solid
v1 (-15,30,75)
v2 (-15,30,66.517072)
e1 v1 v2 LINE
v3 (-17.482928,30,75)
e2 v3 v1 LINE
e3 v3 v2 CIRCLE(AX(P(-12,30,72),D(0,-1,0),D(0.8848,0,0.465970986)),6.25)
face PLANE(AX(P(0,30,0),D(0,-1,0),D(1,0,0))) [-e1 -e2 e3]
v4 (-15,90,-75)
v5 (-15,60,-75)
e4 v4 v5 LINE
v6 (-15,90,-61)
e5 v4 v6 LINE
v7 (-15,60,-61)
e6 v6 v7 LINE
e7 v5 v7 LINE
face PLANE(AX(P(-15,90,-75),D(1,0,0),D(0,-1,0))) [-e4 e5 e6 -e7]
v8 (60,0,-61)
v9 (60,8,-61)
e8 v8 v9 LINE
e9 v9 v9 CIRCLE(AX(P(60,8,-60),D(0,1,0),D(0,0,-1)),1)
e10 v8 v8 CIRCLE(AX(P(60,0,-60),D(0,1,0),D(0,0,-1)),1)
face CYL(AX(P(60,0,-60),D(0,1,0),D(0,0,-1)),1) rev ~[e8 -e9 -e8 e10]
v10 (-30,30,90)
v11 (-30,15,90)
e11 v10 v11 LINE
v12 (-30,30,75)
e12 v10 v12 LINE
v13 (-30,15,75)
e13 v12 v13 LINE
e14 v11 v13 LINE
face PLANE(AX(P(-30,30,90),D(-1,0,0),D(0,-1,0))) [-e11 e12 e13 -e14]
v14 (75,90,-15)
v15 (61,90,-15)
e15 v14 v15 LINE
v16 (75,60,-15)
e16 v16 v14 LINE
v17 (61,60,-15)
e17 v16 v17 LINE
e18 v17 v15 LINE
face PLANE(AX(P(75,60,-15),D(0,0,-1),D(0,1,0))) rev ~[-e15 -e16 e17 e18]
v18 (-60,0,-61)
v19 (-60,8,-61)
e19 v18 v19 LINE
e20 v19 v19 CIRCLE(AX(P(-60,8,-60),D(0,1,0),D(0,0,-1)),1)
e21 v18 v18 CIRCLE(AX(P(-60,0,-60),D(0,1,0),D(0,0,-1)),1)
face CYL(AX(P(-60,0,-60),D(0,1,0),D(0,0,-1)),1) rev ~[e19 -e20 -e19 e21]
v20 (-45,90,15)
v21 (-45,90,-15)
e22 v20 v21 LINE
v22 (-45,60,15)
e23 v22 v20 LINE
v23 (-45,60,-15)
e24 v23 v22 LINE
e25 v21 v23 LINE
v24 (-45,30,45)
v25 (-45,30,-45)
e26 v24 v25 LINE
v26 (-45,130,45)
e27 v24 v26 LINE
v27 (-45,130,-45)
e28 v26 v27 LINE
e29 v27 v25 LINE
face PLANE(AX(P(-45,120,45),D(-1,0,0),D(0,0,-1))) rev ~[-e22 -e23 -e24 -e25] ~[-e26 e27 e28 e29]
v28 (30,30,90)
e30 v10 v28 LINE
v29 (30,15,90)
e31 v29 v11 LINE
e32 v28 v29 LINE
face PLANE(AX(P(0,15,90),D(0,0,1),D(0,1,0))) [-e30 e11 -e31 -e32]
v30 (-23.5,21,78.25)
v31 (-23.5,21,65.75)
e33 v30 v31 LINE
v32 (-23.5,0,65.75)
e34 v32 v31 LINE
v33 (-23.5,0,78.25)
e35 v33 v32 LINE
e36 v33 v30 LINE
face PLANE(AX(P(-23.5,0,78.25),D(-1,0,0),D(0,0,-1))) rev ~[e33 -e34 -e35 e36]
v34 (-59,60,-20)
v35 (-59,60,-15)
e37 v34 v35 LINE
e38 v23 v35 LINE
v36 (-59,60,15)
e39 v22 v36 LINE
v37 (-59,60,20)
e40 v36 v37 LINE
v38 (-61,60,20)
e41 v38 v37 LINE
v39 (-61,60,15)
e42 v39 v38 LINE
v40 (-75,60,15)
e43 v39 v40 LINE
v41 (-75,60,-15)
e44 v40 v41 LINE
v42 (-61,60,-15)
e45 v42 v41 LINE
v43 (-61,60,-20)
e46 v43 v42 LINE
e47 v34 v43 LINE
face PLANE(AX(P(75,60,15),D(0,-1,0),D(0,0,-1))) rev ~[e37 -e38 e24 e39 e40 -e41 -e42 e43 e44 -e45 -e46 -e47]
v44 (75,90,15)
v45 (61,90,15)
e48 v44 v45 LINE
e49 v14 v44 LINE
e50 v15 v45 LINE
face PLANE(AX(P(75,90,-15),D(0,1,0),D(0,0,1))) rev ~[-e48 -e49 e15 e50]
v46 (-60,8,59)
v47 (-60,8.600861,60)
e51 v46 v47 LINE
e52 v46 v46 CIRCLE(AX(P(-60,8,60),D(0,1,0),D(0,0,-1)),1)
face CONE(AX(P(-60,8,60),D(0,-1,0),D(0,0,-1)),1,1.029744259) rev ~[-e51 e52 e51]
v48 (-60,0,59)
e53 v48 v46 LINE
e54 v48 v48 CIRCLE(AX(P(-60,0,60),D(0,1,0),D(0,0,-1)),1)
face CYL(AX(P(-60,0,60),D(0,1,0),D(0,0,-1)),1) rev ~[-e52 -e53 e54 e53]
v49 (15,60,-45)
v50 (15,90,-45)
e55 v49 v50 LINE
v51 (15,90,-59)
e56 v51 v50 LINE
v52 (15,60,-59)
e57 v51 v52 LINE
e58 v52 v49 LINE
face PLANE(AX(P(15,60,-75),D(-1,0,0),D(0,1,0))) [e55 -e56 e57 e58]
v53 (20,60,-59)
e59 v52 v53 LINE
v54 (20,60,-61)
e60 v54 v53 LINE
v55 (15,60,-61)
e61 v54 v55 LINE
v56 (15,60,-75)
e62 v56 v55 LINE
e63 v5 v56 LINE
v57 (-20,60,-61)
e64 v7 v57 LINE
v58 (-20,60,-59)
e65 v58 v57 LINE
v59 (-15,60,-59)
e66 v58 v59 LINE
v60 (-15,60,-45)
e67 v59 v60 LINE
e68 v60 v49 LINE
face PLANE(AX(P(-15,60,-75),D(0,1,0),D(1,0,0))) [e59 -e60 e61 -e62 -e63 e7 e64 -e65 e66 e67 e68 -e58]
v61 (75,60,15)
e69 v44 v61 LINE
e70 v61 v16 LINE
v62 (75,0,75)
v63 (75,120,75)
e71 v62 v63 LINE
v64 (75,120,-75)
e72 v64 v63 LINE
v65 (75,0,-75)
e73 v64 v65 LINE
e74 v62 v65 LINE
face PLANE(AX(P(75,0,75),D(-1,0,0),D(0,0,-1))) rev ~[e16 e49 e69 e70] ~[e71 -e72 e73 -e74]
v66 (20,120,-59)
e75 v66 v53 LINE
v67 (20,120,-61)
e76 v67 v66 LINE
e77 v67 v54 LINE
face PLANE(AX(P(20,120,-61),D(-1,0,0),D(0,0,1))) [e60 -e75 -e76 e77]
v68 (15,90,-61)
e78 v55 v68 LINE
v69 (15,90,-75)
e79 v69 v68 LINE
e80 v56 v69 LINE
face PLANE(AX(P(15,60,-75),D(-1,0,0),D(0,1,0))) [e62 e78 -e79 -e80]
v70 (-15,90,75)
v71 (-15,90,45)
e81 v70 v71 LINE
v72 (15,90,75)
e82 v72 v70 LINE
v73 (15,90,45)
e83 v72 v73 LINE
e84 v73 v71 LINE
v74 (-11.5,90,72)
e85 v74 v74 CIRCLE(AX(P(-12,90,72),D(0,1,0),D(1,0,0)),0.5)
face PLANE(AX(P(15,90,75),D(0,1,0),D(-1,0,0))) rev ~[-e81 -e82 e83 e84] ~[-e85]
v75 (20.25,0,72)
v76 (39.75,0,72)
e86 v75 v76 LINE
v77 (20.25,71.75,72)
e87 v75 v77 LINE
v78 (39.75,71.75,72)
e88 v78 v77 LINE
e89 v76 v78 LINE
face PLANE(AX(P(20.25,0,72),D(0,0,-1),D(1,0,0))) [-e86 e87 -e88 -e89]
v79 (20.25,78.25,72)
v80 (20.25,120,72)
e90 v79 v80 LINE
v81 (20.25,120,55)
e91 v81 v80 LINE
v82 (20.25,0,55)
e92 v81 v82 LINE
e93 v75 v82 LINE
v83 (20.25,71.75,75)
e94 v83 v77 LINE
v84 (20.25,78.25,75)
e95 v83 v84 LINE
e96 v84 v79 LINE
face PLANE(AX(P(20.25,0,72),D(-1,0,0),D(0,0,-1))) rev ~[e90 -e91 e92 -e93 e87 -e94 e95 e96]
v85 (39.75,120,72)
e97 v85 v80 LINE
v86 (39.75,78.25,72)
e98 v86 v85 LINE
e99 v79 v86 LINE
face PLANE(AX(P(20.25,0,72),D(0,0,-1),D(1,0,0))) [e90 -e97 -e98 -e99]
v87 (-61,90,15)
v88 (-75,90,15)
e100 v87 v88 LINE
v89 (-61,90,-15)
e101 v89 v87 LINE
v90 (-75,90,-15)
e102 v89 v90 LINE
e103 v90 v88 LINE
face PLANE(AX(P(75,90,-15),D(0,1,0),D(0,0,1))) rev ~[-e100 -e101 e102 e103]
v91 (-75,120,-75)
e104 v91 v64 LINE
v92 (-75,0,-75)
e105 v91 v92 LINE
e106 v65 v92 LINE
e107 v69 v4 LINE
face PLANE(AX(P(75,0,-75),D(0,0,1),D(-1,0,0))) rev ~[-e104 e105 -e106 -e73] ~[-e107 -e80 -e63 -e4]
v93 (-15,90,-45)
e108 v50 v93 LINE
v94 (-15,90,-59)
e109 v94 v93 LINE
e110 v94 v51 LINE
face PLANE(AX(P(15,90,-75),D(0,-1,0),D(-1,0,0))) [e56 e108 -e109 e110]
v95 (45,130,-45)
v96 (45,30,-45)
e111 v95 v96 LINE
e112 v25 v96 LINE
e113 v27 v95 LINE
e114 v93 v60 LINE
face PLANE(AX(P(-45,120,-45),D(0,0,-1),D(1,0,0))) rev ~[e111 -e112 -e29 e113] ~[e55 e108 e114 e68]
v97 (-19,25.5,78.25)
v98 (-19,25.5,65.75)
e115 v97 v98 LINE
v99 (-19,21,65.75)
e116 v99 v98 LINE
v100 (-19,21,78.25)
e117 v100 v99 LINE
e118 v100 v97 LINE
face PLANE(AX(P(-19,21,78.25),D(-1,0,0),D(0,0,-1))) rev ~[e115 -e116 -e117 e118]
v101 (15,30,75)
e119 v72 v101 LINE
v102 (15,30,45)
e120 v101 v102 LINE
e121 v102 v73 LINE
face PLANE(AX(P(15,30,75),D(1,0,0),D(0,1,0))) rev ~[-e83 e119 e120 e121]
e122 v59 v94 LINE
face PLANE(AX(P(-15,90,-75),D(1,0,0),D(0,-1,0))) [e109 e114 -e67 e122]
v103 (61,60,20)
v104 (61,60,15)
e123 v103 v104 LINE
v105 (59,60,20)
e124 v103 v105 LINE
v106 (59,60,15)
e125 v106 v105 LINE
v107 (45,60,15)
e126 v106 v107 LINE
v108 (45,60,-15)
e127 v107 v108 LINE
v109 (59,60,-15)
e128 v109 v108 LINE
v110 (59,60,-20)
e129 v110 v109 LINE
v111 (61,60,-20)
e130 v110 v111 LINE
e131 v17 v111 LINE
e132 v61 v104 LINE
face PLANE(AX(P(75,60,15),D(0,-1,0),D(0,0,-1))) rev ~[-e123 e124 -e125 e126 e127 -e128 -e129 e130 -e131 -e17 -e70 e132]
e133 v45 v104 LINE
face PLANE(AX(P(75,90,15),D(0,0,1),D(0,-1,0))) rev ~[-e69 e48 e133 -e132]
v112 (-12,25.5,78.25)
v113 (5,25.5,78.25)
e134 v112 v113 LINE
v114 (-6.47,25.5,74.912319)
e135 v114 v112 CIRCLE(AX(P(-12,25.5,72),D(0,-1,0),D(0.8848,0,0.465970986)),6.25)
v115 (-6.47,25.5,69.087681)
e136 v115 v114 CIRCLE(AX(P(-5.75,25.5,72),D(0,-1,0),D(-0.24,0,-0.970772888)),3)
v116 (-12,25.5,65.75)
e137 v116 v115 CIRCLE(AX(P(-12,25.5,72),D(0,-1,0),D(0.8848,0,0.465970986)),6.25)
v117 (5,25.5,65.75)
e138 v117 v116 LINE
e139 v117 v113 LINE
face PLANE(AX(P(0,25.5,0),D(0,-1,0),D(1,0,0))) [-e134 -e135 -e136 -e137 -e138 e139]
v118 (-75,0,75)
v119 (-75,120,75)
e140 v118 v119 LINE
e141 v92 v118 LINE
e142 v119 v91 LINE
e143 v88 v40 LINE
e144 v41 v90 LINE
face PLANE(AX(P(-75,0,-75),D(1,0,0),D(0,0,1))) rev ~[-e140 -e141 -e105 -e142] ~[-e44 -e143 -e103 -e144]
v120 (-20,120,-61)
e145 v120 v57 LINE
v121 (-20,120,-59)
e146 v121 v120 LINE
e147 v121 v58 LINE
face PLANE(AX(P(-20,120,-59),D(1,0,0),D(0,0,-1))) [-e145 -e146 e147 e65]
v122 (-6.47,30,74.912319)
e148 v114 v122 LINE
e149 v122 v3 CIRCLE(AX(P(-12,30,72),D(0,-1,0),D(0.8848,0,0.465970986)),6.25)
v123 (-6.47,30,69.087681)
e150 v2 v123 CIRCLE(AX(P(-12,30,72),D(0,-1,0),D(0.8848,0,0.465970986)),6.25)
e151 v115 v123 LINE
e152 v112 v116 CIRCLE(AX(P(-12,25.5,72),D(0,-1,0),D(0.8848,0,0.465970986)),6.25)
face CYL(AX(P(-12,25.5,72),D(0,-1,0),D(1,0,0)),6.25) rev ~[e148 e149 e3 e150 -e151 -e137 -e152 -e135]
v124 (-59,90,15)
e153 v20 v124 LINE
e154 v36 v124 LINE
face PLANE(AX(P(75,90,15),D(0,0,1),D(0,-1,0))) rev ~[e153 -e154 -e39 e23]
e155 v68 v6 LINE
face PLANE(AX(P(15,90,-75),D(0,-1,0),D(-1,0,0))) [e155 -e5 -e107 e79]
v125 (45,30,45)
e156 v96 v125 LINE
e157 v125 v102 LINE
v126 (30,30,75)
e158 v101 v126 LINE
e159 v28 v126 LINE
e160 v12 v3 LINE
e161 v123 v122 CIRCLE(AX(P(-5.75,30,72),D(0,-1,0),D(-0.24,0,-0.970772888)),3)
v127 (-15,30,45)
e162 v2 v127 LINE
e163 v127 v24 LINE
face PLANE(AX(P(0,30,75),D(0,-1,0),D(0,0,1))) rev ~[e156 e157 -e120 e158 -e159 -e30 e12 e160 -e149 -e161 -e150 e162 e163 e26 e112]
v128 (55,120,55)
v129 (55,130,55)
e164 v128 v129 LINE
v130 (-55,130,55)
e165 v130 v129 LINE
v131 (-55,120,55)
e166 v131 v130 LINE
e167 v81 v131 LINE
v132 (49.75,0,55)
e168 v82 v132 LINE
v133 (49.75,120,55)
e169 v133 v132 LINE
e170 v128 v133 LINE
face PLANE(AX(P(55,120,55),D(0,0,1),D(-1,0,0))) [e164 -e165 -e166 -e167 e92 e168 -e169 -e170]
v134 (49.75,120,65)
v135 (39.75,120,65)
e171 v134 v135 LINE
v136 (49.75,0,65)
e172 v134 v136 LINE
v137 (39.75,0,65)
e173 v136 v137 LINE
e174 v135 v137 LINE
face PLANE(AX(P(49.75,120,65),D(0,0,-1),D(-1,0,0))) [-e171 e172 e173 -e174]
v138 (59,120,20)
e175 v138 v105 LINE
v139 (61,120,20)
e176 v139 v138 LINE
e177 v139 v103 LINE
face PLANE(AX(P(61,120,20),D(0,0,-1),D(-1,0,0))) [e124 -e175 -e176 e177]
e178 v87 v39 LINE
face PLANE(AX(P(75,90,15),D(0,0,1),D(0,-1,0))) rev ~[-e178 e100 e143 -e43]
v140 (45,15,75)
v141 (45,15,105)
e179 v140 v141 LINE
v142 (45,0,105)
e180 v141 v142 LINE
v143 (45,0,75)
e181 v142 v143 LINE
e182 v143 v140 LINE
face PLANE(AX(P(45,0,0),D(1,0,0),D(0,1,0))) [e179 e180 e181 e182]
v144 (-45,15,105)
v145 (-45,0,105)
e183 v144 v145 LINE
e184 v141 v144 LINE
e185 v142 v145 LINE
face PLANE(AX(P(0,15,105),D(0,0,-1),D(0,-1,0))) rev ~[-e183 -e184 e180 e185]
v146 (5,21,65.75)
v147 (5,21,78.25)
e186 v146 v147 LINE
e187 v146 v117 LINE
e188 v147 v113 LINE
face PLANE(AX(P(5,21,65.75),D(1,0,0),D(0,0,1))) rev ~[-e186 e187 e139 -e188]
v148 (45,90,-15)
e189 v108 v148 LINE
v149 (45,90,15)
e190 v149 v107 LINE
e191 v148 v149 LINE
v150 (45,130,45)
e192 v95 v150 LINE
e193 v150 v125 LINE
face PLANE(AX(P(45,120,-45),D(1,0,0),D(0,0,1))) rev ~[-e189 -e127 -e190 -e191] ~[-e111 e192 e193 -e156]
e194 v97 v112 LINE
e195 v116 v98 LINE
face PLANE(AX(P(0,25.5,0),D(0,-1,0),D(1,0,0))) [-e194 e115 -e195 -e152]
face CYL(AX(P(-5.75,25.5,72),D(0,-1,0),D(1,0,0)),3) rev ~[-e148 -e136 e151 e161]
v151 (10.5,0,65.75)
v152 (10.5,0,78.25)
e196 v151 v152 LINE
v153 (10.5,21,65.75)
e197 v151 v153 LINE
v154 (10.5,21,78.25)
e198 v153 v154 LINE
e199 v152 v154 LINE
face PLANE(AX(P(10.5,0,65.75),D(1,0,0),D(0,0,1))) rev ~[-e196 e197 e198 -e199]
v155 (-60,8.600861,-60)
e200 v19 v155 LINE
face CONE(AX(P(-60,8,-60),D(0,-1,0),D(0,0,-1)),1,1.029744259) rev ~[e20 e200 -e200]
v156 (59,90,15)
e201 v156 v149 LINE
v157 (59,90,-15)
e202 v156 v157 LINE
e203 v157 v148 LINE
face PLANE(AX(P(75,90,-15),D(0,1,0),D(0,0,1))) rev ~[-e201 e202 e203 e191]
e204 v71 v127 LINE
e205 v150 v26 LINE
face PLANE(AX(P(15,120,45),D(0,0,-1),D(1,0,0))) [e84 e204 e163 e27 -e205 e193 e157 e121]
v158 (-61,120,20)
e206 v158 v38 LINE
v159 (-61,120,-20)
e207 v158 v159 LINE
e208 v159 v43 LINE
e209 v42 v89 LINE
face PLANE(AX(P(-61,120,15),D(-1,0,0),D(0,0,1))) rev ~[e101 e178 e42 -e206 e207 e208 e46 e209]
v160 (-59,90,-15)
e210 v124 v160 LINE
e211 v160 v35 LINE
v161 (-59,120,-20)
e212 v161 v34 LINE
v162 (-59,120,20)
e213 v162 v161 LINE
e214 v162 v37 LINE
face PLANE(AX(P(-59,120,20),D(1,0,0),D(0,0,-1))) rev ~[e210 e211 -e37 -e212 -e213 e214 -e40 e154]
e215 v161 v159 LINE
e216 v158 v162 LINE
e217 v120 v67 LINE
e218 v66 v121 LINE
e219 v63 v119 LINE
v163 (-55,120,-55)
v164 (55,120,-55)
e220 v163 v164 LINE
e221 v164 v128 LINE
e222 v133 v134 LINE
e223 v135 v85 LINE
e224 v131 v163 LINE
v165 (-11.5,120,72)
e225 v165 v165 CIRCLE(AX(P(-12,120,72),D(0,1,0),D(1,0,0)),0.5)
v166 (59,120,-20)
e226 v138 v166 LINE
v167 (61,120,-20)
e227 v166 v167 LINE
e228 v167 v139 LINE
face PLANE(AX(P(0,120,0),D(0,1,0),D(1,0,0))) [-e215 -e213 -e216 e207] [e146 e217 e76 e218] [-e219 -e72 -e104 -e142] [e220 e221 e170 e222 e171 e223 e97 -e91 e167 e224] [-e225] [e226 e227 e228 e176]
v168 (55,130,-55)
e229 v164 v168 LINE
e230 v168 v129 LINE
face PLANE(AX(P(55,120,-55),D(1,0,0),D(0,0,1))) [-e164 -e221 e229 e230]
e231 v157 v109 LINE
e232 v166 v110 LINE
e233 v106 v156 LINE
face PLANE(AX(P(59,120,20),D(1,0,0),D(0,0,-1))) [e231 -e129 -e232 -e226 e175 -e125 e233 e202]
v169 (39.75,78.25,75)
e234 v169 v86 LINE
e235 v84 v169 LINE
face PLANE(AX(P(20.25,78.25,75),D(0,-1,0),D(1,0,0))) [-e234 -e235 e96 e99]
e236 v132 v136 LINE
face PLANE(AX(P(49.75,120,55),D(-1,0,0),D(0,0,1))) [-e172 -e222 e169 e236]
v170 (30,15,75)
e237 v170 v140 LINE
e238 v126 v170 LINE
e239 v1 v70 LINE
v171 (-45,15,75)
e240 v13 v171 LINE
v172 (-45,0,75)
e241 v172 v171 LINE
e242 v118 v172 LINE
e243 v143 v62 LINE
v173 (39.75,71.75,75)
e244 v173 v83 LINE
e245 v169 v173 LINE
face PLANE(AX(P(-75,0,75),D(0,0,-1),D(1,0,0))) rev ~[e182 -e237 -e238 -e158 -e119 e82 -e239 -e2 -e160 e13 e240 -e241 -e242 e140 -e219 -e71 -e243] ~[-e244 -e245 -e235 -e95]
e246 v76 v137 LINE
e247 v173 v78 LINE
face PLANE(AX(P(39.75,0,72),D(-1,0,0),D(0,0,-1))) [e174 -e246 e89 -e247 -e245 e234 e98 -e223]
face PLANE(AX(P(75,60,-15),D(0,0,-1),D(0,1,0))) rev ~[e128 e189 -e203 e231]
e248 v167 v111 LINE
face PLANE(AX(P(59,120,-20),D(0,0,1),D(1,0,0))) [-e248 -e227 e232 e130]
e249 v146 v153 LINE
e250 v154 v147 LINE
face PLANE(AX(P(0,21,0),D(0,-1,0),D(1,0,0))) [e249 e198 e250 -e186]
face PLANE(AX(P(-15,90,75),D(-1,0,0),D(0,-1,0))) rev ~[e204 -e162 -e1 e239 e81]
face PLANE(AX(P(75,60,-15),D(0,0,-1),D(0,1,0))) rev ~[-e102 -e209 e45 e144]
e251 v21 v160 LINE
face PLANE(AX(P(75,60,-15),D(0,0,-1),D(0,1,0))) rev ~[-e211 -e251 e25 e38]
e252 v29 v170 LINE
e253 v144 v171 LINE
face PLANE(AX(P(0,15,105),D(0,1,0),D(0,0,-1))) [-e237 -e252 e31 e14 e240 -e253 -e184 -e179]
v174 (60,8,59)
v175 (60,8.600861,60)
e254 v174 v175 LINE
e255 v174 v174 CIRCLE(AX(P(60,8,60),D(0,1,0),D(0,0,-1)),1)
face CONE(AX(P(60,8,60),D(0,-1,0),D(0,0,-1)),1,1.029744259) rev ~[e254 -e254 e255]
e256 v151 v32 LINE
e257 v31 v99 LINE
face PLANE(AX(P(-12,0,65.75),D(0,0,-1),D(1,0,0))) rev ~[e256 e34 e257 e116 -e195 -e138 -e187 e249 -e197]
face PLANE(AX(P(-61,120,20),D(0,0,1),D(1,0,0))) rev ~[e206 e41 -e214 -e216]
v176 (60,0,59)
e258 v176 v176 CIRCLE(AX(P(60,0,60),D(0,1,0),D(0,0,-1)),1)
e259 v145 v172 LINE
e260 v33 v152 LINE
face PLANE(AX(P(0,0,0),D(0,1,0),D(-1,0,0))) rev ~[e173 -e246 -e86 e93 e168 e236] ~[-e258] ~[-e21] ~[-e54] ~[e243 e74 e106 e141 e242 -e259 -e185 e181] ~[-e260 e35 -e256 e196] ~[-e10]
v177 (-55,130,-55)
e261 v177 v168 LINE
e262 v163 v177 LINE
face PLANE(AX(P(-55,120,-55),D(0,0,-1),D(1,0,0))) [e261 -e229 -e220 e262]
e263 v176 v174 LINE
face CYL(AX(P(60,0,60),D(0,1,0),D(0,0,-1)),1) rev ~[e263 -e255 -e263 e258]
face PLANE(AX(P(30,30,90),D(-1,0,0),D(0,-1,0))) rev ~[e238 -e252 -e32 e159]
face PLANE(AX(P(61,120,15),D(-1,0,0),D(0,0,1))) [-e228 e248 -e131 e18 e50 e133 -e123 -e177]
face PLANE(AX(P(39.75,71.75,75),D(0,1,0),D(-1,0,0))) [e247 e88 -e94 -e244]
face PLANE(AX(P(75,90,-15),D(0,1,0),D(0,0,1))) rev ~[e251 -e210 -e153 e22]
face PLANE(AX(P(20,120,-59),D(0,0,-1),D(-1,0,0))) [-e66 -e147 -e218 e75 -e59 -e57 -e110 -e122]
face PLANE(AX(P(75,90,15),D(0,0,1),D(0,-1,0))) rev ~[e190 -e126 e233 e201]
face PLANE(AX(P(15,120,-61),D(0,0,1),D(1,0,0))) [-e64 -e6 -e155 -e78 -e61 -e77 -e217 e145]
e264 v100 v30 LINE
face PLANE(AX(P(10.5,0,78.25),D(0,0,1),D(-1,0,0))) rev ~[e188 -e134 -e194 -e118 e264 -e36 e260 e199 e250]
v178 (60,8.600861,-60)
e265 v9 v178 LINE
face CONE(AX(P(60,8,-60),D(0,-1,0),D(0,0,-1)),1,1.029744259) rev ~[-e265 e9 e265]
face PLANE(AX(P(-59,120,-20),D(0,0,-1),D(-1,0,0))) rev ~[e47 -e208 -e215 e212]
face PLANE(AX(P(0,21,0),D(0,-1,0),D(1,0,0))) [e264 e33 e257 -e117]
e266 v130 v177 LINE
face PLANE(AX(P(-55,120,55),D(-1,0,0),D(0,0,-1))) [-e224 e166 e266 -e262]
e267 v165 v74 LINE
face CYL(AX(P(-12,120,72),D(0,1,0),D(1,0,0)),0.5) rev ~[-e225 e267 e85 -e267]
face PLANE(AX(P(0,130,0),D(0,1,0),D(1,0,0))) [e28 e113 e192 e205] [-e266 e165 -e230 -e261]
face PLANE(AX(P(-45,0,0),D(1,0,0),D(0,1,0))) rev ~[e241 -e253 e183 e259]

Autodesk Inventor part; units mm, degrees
ref_plane "YZ Plane" through (0, 0, 0) normal (1, 0, 0) x (0, 1, 0)
ref_plane "XZ Plane" through (0, 0, 0) normal (0, 1, 0) x (-1, 0, 0)
ref_plane "XY Plane" through (0, 0, 0) normal (0, 0, 1) x (1, 0, 0)
sketch "Náčrt1" plane through (0, 0, 0) normal (0, 1, 0) x (-1, 0, 0)
  line L0 (75, 75) -> (-75, 75)
  line L1 (-75, 75) -> (-75, -75)
  line L2 (-75, -75) -> (75, -75)
  line L3 (75, -75) -> (75, 75)
  line L4 (75, 75) -> (-75, -75) construction
  line L5 (-75, 75) -> (75, -75) construction
  point P0 (0, 0)
  dimension "d0" = 150
  dimension "d1" = 150
extrude "Vysunutí1" add sketch "Náčrt1" along normal blind 30
sketch "Náčrt2" plane through (0, 30, 0) normal (0, 1, 0) x (1, 0, 0)
  line L0 (75, -75) -> (-75, -75)
  line L1 (-75, -75) -> (-75, 75)
  line L2 (-75, 75) -> (75, 75)
  line L3 (75, 75) -> (75, -75)
  line L4 (75, -75) -> (-75, 75) construction
  line L5 (-75, -75) -> (75, 75) construction
  line L6 (45, -45) -> (-45, -45)
  line L7 (-45, -45) -> (-45, 45)
  line L8 (-45, 45) -> (45, 45)
  line L9 (45, 45) -> (45, -45)
  line L10 (45, -45) -> (-45, 45) construction
  line L11 (-45, -45) -> (45, 45) construction
  point P0 (0, 0)
  dimension "d4" = 150
  dimension "d5" = 150
  dimension "d6" = 90
  dimension "d7" = 90
extrude "Vysunutí2" add sketch "Náčrt2" along normal blind 90
sketch "Náčrt3" plane through (-75, 0, 75) normal (0, 0, 1) x (1, 0, 0)
  line L0 (120, 30) -> (30, 30) projected
  line L1 (60, 30) -> (90, 30)
  line L2 (90, 30) -> (90, 90)
  line L3 (90, 90) -> (60, 90)
  line L4 (60, 90) -> (60, 30)
  point P0 (75, 0)
  dimension "d10" = 30
  dimension "d11" = 60
extrude "Vysunutí3" cut sketch "Náčrt3" against normal blind 90
sketch "Náčrt4" plane through (75, 0, 75) normal (1, 0, 0) x (0, 0, -1)
  line L0 (60, 60) -> (90, 60)
  line L1 (90, 60) -> (90, 90)
  line L2 (90, 90) -> (60, 90)
  line L3 (60, 90) -> (60, 60)
  point P0 (75, 0)
  dimension "d14" = 30
  dimension "d15" = 30
extrude "Vysunutí4" cut sketch "Náčrt4" against normal through all
sketch "Náčrt5" plane through (75, 0, -75) normal (0, 0, -1) x (-1, 0, 0)
  line L0 (60, 30) -> (60, 90) projected
  line L1 (60, 90) -> (90, 90)
  line L2 (90, 90) -> (90, 60)
  line L3 (90, 60) -> (60, 60)
  line L4 (60, 60) -> (60, 90)
  point P0 (75, 0)
  dimension "d18" = 30
  dimension "d19" = 30
extrude "Vysunutí5" cut sketch "Náčrt5" against normal through all
sketch "Náčrt6" plane through (0, 0, 0) normal (1, 0, 0) x (0, 1, 0)
  line L0 (0, 75) -> (120, 75) projected
  line L1 (0, 75) -> (0, -75) projected
  line L2 (0, 75) -> (30, 75)
  line L3 (30, 75) -> (30, 105)
  line L4 (30, 105) -> (0, 105)
  line L5 (0, 105) -> (0, 75)
  line L6 (30, 105) -> (15, 105)
  line L7 (15, 105) -> (15, 90)
  line L8 (15, 90) -> (30, 90)
  line L9 (30, 90) -> (30, 105)
  point P0 (0, 0)
  dimension "d28" = 30
  dimension "d29" = 30
  dimension "d30" = 15
  dimension "d31" = 15
extrude "Vysunutí6" add sketch "Náčrt6" along normal mid plane 90 contours L5 L4 L7 L8 L3 L0
sketch "Náčrt7" plane through (0, 120, 0) normal (0, 1, 0) x (1, 0, 0)
  line L0 (15, -45) -> (45, -45) projected
  line L1 (-45, 45) -> (45, 45)
  line L2 (45, 45) -> (45, -45)
  line L3 (45, -45) -> (-45, -45)
  line L4 (-45, -45) -> (-45, 45)
  line L5 (-45, 45) -> (45, -45) construction
  line L6 (45, 45) -> (-45, -45) construction
  line L7 (-55, 55) -> (55, 55)
  line L8 (55, 55) -> (55, -55)
  line L9 (55, -55) -> (-55, -55)
  line L10 (-55, -55) -> (-55, 55)
  line L11 (-55, 55) -> (55, -55) construction
  line L12 (55, 55) -> (-55, -55) construction
  point P0 (0, 0)
  dimension "d32" = 110
  dimension "d33" = 110
extrude "Vysunutí7" add sketch "Náčrt7" along normal blind 10
sketch "Náčrt9" plane through (0, 0, 0) normal (0, -1, 0) x (1, 0, 0)
  line L0 (75, 75) -> (75, -75) projected
  line L1 (-75, 75) -> (-45, 75) projected
  point P0 (0, 0)
  point P1 (60, 60)
  point P2 (60, -60)
  point P3 (-60, -60)
  point P4 (-60, 60)
  dimension "d48" = 120
  dimension "d49" = 120
  dimension "d50" = 15
  dimension "d58" = 15
hole "Díra1" at (60, 0, 60) at (60, 0, -60) at (-60, 0, -60) at (-60, 0, 60) direction (0, 1, 0) diameter 2 depth 8 tip angle 118
sketch "Náčrt10" plane through (0, 120, 0) normal (0, 1, 0) x (1, 0, 0)
  line L0 (61, -20) -> (59, -20)
  line L1 (59, -20) -> (59, 20)
  line L2 (59, 20) -> (61, 20)
  line L3 (61, 20) -> (61, -20)
  line L4 (75, -75) -> (75, 75) projected
  line L5 (45, 45) -> (45, -45) projected
  line L6 (75, 15) -> (45, 15) projected
  line L7 (75, -15) -> (45, -15) projected
  line L8 (0, 17.5556) -> (0, -18.0256) construction
  line L9 (-61, -20) -> (-59, -20)
  line L10 (-59, -20) -> (-59, 20)
  line L11 (-59, 20) -> (-61, 20)
  line L12 (-61, 20) -> (-61, -20)
  line L13 (-75, 15) -> (-45, 15)
  line L14 (-75, -15) -> (-45, -15)
  line L15 (75, 75) -> (-75, 75) construction
  line L16 (0, 0) -> (-75, 75) construction
  line L17 (20, 61) -> (20, 59)
  line L18 (20, 59) -> (-20, 59)
  line L19 (-20, 59) -> (-20, 61)
  line L20 (-20, 61) -> (20, 61)
  line L21 (-15, 75) -> (-15, 45)
  line L22 (15, 75) -> (15, 45)
  point P0 (59, 0)
  point P1 (60, 20)
  point P2 (60, -20)
  point P3 (-59, 0)
  point P4 (-60, 20)
  point P5 (-60, -20)
  point P6 (0, 59)
  point P7 (-20, 60)
  point P8 (20, 60)
  dimension "d51" = 2
  dimension "d52" = 14
  dimension "d53" = 14
  dimension "d54" = 5
  dimension "d55" = 5
extrude "Vysunutí9" cut sketch "Náčrt10" against normal blind 60 contours L0 L1 L7 L3 | L7 L1 L6 L3 | L6 L1 L2 L3 | L12 L14 L10 L9 | L12 L13 L10 L14 | L12 L11 L10 L13 | L17 L18 L22 L20 | L22 L18 L21 L20 | L21 L18 L19 L20
sketch "Náčrt11" plane through (0, 0, 0) normal (0, -1, 0) x (1, 0, 0)
  line L0 (-75, 75) -> (-45, 75) projected
  line L1 (10.5, 78.25) -> (-23.5, 78.25)
  line L2 (-23.5, 78.25) -> (-23.5, 65.75)
  line L3 (-23.5, 65.75) -> (10.5, 65.75)
  line L4 (10.5, 65.75) -> (10.5, 78.25)
  line L5 (-45, 75) -> (-45, 105) projected
  circle A0 centre (-12, 72) radius 6.25
  point P0 (0, 0)
  point P1 (-23.5, 72)
  dimension "d65" = 34
  dimension "d66" = 12.5
  dimension "d92" = 11.5
extrude "Vysunutí10" cut sketch "Náčrt11" against normal blind 21
sketch "Náčrt13" plane through (0, 21, 0) normal (0, -1, 0) x (1, 0, 0)
  line L0 (10.5, 65.75) -> (-23.5, 65.75) projected
  line L1 (-23.5, 78.25) -> (10.5, 78.25) projected
  line L2 (-19, 65.75) -> (5, 65.75)
  line L3 (5, 65.75) -> (5, 78.25)
  line L4 (5, 78.25) -> (-19, 78.25)
  line L5 (-19, 78.25) -> (-19, 65.75)
  line L6 (10.5, 78.25) -> (10.5, 65.75) projected
  line L7 (-23.5, 65.75) -> (-23.5, 78.25) projected
  point P0 (0, 0)
  point P1 (-15, 78.25)
  point P2 (10.5, 72)
  point P3 (5, 72)
  point P4 (-23.5, 75)
  point P5 (-19, 72)
  dimension "d79" = 24
  dimension "d80" = 5.5
  dimension "d81" = 4.5
extrude "Vysunutí12" cut sketch "Náčrt13" against normal blind 4.5 contours L0 L5 L1 L3
sketch "Náčrt15" plane through (-75, 120, 75) normal (0, 0, 1) x (1, 0, 0)
  line L0 (95.25, -41.75) -> (114.75, -41.75)
  line L1 (114.75, -41.75) -> (114.75, -48.25)
  line L2 (114.75, -48.25) -> (95.25, -48.25)
  line L3 (95.25, -48.25) -> (95.25, -41.75)
  line L4 (60, -30) -> (90, -30) projected
  line L5 (90, -30) -> (120, -30)
  line L6 (120, -30) -> (120, -60)
  line L7 (120, -60) -> (90, -60)
  line L8 (90, -60) -> (90, -30)
  point P0 (75, -120)
  point P1 (105, -41.75)
  point P2 (114.75, -45)
  dimension "d95" = 30
  dimension "d96" = 6.5
  dimension "d97" = 19.5
  dimension "d98" = 15
  dimension "d99" = 15
  dimension "d100" = 15
extrude "Vysunutí14" cut sketch "Náčrt15" against normal blind 20 contours L0 L1 L2 L3
sketch "Náčrt16" plane through (0, 0, 0) normal (0, -1, 0) x (1, 0, 0)
  line L0 (20.25, 75) -> (20.25, 55) projected
  line L1 (39.75, 75) -> (39.75, 55) projected
  line L2 (20.25, 72) -> (39.75, 72)
  line L3 (39.75, 72) -> (39.75, 55)
  line L4 (39.75, 55) -> (20.25, 55)
  line L5 (20.25, 55) -> (20.25, 72)
  line L6 (45, 75) -> (75, 75) projected
  point P0 (0, 0)
  dimension "d103" = 17
  dimension "d104" = 3
extrude "Vysunutí15" cut sketch "Náčrt16" against normal through all
sketch "Náčrt17" plane through (-45, 15, 90) normal (0, 0, 1) x (1, 0, 0)
  line L0 (90, 15) -> (75, 15)
  line L1 (75, 15) -> (75, 0)
  line L2 (75, 0) -> (90, 0)
  line L3 (90, 0) -> (90, 15)
  line L4 (0, 15) -> (30, 15) projected
  line L5 (0, 15) -> (15, 15)
  line L6 (15, 15) -> (15, 0)
  line L7 (15, 0) -> (0, 0)
  line L8 (0, 0) -> (0, 15)
  point P0 (45, -15)
  dimension "d107" = 15
  dimension "d108" = 15
  dimension "d109" = 15
  dimension "d110" = 15
extrude "Vysunutí16" cut sketch "Náčrt17" against normal blind 15
sketch "Náčrt18" plane through (0, 25.5, 0) normal (0, -1, 0) x (1, 0, 0)
  circle A0 centre (-12, 72) radius 6.25
  line L0 (-23.5, 78.25) -> (10.5, 78.25) projected
  line L1 (-23.5, 65.75) -> (-23.5, 78.25) projected
  circle A1 centre (-5.75, 72) radius 3
  point P0 (0, 0)
  point P1 (-6.47, 69.0877)
  point P2 (-6.47, 74.9123)
  dimension "d114" = 12.5
  dimension "d113" = 11.5
  dimension "d115" = 6
extrude "Vysunutí17" cut sketch "Náčrt18" against normal blind 4.5
sketch "Náčrt19" plane through (0, 120, 0) normal (0, 1, 0) x (1, 0, 0)
  arc A0 (-17.4829, -75) -> (-6.47, -74.9123) centre (-12, -72) ccw projected
  circle A1 centre (-12, -72) radius 0.5
  point P0 (0, 0)
  dimension "d118" = 1
extrude "Vysunutí18" cut sketch "Náčrt19" against normal blind 30
sketch "Náčrt20" plane through (0, 120, 0) normal (0, 1, 0) x (1, 0, 0)
  line L0 (39.75, -55) -> (39.75, -72) projected
  line L1 (39.75, -55) -> (49.75, -55)
  line L2 (49.75, -55) -> (49.75, -65)
  line L3 (49.75, -65) -> (39.75, -65)
  line L4 (39.75, -65) -> (39.75, -55)
  point P0 (0, 0)
  dimension "d121" = 10
  dimension "d122" = 10
extrude "Vysunutí19" cut sketch "Náčrt20" against normal through all
properties part number "steny" material "Beton"
